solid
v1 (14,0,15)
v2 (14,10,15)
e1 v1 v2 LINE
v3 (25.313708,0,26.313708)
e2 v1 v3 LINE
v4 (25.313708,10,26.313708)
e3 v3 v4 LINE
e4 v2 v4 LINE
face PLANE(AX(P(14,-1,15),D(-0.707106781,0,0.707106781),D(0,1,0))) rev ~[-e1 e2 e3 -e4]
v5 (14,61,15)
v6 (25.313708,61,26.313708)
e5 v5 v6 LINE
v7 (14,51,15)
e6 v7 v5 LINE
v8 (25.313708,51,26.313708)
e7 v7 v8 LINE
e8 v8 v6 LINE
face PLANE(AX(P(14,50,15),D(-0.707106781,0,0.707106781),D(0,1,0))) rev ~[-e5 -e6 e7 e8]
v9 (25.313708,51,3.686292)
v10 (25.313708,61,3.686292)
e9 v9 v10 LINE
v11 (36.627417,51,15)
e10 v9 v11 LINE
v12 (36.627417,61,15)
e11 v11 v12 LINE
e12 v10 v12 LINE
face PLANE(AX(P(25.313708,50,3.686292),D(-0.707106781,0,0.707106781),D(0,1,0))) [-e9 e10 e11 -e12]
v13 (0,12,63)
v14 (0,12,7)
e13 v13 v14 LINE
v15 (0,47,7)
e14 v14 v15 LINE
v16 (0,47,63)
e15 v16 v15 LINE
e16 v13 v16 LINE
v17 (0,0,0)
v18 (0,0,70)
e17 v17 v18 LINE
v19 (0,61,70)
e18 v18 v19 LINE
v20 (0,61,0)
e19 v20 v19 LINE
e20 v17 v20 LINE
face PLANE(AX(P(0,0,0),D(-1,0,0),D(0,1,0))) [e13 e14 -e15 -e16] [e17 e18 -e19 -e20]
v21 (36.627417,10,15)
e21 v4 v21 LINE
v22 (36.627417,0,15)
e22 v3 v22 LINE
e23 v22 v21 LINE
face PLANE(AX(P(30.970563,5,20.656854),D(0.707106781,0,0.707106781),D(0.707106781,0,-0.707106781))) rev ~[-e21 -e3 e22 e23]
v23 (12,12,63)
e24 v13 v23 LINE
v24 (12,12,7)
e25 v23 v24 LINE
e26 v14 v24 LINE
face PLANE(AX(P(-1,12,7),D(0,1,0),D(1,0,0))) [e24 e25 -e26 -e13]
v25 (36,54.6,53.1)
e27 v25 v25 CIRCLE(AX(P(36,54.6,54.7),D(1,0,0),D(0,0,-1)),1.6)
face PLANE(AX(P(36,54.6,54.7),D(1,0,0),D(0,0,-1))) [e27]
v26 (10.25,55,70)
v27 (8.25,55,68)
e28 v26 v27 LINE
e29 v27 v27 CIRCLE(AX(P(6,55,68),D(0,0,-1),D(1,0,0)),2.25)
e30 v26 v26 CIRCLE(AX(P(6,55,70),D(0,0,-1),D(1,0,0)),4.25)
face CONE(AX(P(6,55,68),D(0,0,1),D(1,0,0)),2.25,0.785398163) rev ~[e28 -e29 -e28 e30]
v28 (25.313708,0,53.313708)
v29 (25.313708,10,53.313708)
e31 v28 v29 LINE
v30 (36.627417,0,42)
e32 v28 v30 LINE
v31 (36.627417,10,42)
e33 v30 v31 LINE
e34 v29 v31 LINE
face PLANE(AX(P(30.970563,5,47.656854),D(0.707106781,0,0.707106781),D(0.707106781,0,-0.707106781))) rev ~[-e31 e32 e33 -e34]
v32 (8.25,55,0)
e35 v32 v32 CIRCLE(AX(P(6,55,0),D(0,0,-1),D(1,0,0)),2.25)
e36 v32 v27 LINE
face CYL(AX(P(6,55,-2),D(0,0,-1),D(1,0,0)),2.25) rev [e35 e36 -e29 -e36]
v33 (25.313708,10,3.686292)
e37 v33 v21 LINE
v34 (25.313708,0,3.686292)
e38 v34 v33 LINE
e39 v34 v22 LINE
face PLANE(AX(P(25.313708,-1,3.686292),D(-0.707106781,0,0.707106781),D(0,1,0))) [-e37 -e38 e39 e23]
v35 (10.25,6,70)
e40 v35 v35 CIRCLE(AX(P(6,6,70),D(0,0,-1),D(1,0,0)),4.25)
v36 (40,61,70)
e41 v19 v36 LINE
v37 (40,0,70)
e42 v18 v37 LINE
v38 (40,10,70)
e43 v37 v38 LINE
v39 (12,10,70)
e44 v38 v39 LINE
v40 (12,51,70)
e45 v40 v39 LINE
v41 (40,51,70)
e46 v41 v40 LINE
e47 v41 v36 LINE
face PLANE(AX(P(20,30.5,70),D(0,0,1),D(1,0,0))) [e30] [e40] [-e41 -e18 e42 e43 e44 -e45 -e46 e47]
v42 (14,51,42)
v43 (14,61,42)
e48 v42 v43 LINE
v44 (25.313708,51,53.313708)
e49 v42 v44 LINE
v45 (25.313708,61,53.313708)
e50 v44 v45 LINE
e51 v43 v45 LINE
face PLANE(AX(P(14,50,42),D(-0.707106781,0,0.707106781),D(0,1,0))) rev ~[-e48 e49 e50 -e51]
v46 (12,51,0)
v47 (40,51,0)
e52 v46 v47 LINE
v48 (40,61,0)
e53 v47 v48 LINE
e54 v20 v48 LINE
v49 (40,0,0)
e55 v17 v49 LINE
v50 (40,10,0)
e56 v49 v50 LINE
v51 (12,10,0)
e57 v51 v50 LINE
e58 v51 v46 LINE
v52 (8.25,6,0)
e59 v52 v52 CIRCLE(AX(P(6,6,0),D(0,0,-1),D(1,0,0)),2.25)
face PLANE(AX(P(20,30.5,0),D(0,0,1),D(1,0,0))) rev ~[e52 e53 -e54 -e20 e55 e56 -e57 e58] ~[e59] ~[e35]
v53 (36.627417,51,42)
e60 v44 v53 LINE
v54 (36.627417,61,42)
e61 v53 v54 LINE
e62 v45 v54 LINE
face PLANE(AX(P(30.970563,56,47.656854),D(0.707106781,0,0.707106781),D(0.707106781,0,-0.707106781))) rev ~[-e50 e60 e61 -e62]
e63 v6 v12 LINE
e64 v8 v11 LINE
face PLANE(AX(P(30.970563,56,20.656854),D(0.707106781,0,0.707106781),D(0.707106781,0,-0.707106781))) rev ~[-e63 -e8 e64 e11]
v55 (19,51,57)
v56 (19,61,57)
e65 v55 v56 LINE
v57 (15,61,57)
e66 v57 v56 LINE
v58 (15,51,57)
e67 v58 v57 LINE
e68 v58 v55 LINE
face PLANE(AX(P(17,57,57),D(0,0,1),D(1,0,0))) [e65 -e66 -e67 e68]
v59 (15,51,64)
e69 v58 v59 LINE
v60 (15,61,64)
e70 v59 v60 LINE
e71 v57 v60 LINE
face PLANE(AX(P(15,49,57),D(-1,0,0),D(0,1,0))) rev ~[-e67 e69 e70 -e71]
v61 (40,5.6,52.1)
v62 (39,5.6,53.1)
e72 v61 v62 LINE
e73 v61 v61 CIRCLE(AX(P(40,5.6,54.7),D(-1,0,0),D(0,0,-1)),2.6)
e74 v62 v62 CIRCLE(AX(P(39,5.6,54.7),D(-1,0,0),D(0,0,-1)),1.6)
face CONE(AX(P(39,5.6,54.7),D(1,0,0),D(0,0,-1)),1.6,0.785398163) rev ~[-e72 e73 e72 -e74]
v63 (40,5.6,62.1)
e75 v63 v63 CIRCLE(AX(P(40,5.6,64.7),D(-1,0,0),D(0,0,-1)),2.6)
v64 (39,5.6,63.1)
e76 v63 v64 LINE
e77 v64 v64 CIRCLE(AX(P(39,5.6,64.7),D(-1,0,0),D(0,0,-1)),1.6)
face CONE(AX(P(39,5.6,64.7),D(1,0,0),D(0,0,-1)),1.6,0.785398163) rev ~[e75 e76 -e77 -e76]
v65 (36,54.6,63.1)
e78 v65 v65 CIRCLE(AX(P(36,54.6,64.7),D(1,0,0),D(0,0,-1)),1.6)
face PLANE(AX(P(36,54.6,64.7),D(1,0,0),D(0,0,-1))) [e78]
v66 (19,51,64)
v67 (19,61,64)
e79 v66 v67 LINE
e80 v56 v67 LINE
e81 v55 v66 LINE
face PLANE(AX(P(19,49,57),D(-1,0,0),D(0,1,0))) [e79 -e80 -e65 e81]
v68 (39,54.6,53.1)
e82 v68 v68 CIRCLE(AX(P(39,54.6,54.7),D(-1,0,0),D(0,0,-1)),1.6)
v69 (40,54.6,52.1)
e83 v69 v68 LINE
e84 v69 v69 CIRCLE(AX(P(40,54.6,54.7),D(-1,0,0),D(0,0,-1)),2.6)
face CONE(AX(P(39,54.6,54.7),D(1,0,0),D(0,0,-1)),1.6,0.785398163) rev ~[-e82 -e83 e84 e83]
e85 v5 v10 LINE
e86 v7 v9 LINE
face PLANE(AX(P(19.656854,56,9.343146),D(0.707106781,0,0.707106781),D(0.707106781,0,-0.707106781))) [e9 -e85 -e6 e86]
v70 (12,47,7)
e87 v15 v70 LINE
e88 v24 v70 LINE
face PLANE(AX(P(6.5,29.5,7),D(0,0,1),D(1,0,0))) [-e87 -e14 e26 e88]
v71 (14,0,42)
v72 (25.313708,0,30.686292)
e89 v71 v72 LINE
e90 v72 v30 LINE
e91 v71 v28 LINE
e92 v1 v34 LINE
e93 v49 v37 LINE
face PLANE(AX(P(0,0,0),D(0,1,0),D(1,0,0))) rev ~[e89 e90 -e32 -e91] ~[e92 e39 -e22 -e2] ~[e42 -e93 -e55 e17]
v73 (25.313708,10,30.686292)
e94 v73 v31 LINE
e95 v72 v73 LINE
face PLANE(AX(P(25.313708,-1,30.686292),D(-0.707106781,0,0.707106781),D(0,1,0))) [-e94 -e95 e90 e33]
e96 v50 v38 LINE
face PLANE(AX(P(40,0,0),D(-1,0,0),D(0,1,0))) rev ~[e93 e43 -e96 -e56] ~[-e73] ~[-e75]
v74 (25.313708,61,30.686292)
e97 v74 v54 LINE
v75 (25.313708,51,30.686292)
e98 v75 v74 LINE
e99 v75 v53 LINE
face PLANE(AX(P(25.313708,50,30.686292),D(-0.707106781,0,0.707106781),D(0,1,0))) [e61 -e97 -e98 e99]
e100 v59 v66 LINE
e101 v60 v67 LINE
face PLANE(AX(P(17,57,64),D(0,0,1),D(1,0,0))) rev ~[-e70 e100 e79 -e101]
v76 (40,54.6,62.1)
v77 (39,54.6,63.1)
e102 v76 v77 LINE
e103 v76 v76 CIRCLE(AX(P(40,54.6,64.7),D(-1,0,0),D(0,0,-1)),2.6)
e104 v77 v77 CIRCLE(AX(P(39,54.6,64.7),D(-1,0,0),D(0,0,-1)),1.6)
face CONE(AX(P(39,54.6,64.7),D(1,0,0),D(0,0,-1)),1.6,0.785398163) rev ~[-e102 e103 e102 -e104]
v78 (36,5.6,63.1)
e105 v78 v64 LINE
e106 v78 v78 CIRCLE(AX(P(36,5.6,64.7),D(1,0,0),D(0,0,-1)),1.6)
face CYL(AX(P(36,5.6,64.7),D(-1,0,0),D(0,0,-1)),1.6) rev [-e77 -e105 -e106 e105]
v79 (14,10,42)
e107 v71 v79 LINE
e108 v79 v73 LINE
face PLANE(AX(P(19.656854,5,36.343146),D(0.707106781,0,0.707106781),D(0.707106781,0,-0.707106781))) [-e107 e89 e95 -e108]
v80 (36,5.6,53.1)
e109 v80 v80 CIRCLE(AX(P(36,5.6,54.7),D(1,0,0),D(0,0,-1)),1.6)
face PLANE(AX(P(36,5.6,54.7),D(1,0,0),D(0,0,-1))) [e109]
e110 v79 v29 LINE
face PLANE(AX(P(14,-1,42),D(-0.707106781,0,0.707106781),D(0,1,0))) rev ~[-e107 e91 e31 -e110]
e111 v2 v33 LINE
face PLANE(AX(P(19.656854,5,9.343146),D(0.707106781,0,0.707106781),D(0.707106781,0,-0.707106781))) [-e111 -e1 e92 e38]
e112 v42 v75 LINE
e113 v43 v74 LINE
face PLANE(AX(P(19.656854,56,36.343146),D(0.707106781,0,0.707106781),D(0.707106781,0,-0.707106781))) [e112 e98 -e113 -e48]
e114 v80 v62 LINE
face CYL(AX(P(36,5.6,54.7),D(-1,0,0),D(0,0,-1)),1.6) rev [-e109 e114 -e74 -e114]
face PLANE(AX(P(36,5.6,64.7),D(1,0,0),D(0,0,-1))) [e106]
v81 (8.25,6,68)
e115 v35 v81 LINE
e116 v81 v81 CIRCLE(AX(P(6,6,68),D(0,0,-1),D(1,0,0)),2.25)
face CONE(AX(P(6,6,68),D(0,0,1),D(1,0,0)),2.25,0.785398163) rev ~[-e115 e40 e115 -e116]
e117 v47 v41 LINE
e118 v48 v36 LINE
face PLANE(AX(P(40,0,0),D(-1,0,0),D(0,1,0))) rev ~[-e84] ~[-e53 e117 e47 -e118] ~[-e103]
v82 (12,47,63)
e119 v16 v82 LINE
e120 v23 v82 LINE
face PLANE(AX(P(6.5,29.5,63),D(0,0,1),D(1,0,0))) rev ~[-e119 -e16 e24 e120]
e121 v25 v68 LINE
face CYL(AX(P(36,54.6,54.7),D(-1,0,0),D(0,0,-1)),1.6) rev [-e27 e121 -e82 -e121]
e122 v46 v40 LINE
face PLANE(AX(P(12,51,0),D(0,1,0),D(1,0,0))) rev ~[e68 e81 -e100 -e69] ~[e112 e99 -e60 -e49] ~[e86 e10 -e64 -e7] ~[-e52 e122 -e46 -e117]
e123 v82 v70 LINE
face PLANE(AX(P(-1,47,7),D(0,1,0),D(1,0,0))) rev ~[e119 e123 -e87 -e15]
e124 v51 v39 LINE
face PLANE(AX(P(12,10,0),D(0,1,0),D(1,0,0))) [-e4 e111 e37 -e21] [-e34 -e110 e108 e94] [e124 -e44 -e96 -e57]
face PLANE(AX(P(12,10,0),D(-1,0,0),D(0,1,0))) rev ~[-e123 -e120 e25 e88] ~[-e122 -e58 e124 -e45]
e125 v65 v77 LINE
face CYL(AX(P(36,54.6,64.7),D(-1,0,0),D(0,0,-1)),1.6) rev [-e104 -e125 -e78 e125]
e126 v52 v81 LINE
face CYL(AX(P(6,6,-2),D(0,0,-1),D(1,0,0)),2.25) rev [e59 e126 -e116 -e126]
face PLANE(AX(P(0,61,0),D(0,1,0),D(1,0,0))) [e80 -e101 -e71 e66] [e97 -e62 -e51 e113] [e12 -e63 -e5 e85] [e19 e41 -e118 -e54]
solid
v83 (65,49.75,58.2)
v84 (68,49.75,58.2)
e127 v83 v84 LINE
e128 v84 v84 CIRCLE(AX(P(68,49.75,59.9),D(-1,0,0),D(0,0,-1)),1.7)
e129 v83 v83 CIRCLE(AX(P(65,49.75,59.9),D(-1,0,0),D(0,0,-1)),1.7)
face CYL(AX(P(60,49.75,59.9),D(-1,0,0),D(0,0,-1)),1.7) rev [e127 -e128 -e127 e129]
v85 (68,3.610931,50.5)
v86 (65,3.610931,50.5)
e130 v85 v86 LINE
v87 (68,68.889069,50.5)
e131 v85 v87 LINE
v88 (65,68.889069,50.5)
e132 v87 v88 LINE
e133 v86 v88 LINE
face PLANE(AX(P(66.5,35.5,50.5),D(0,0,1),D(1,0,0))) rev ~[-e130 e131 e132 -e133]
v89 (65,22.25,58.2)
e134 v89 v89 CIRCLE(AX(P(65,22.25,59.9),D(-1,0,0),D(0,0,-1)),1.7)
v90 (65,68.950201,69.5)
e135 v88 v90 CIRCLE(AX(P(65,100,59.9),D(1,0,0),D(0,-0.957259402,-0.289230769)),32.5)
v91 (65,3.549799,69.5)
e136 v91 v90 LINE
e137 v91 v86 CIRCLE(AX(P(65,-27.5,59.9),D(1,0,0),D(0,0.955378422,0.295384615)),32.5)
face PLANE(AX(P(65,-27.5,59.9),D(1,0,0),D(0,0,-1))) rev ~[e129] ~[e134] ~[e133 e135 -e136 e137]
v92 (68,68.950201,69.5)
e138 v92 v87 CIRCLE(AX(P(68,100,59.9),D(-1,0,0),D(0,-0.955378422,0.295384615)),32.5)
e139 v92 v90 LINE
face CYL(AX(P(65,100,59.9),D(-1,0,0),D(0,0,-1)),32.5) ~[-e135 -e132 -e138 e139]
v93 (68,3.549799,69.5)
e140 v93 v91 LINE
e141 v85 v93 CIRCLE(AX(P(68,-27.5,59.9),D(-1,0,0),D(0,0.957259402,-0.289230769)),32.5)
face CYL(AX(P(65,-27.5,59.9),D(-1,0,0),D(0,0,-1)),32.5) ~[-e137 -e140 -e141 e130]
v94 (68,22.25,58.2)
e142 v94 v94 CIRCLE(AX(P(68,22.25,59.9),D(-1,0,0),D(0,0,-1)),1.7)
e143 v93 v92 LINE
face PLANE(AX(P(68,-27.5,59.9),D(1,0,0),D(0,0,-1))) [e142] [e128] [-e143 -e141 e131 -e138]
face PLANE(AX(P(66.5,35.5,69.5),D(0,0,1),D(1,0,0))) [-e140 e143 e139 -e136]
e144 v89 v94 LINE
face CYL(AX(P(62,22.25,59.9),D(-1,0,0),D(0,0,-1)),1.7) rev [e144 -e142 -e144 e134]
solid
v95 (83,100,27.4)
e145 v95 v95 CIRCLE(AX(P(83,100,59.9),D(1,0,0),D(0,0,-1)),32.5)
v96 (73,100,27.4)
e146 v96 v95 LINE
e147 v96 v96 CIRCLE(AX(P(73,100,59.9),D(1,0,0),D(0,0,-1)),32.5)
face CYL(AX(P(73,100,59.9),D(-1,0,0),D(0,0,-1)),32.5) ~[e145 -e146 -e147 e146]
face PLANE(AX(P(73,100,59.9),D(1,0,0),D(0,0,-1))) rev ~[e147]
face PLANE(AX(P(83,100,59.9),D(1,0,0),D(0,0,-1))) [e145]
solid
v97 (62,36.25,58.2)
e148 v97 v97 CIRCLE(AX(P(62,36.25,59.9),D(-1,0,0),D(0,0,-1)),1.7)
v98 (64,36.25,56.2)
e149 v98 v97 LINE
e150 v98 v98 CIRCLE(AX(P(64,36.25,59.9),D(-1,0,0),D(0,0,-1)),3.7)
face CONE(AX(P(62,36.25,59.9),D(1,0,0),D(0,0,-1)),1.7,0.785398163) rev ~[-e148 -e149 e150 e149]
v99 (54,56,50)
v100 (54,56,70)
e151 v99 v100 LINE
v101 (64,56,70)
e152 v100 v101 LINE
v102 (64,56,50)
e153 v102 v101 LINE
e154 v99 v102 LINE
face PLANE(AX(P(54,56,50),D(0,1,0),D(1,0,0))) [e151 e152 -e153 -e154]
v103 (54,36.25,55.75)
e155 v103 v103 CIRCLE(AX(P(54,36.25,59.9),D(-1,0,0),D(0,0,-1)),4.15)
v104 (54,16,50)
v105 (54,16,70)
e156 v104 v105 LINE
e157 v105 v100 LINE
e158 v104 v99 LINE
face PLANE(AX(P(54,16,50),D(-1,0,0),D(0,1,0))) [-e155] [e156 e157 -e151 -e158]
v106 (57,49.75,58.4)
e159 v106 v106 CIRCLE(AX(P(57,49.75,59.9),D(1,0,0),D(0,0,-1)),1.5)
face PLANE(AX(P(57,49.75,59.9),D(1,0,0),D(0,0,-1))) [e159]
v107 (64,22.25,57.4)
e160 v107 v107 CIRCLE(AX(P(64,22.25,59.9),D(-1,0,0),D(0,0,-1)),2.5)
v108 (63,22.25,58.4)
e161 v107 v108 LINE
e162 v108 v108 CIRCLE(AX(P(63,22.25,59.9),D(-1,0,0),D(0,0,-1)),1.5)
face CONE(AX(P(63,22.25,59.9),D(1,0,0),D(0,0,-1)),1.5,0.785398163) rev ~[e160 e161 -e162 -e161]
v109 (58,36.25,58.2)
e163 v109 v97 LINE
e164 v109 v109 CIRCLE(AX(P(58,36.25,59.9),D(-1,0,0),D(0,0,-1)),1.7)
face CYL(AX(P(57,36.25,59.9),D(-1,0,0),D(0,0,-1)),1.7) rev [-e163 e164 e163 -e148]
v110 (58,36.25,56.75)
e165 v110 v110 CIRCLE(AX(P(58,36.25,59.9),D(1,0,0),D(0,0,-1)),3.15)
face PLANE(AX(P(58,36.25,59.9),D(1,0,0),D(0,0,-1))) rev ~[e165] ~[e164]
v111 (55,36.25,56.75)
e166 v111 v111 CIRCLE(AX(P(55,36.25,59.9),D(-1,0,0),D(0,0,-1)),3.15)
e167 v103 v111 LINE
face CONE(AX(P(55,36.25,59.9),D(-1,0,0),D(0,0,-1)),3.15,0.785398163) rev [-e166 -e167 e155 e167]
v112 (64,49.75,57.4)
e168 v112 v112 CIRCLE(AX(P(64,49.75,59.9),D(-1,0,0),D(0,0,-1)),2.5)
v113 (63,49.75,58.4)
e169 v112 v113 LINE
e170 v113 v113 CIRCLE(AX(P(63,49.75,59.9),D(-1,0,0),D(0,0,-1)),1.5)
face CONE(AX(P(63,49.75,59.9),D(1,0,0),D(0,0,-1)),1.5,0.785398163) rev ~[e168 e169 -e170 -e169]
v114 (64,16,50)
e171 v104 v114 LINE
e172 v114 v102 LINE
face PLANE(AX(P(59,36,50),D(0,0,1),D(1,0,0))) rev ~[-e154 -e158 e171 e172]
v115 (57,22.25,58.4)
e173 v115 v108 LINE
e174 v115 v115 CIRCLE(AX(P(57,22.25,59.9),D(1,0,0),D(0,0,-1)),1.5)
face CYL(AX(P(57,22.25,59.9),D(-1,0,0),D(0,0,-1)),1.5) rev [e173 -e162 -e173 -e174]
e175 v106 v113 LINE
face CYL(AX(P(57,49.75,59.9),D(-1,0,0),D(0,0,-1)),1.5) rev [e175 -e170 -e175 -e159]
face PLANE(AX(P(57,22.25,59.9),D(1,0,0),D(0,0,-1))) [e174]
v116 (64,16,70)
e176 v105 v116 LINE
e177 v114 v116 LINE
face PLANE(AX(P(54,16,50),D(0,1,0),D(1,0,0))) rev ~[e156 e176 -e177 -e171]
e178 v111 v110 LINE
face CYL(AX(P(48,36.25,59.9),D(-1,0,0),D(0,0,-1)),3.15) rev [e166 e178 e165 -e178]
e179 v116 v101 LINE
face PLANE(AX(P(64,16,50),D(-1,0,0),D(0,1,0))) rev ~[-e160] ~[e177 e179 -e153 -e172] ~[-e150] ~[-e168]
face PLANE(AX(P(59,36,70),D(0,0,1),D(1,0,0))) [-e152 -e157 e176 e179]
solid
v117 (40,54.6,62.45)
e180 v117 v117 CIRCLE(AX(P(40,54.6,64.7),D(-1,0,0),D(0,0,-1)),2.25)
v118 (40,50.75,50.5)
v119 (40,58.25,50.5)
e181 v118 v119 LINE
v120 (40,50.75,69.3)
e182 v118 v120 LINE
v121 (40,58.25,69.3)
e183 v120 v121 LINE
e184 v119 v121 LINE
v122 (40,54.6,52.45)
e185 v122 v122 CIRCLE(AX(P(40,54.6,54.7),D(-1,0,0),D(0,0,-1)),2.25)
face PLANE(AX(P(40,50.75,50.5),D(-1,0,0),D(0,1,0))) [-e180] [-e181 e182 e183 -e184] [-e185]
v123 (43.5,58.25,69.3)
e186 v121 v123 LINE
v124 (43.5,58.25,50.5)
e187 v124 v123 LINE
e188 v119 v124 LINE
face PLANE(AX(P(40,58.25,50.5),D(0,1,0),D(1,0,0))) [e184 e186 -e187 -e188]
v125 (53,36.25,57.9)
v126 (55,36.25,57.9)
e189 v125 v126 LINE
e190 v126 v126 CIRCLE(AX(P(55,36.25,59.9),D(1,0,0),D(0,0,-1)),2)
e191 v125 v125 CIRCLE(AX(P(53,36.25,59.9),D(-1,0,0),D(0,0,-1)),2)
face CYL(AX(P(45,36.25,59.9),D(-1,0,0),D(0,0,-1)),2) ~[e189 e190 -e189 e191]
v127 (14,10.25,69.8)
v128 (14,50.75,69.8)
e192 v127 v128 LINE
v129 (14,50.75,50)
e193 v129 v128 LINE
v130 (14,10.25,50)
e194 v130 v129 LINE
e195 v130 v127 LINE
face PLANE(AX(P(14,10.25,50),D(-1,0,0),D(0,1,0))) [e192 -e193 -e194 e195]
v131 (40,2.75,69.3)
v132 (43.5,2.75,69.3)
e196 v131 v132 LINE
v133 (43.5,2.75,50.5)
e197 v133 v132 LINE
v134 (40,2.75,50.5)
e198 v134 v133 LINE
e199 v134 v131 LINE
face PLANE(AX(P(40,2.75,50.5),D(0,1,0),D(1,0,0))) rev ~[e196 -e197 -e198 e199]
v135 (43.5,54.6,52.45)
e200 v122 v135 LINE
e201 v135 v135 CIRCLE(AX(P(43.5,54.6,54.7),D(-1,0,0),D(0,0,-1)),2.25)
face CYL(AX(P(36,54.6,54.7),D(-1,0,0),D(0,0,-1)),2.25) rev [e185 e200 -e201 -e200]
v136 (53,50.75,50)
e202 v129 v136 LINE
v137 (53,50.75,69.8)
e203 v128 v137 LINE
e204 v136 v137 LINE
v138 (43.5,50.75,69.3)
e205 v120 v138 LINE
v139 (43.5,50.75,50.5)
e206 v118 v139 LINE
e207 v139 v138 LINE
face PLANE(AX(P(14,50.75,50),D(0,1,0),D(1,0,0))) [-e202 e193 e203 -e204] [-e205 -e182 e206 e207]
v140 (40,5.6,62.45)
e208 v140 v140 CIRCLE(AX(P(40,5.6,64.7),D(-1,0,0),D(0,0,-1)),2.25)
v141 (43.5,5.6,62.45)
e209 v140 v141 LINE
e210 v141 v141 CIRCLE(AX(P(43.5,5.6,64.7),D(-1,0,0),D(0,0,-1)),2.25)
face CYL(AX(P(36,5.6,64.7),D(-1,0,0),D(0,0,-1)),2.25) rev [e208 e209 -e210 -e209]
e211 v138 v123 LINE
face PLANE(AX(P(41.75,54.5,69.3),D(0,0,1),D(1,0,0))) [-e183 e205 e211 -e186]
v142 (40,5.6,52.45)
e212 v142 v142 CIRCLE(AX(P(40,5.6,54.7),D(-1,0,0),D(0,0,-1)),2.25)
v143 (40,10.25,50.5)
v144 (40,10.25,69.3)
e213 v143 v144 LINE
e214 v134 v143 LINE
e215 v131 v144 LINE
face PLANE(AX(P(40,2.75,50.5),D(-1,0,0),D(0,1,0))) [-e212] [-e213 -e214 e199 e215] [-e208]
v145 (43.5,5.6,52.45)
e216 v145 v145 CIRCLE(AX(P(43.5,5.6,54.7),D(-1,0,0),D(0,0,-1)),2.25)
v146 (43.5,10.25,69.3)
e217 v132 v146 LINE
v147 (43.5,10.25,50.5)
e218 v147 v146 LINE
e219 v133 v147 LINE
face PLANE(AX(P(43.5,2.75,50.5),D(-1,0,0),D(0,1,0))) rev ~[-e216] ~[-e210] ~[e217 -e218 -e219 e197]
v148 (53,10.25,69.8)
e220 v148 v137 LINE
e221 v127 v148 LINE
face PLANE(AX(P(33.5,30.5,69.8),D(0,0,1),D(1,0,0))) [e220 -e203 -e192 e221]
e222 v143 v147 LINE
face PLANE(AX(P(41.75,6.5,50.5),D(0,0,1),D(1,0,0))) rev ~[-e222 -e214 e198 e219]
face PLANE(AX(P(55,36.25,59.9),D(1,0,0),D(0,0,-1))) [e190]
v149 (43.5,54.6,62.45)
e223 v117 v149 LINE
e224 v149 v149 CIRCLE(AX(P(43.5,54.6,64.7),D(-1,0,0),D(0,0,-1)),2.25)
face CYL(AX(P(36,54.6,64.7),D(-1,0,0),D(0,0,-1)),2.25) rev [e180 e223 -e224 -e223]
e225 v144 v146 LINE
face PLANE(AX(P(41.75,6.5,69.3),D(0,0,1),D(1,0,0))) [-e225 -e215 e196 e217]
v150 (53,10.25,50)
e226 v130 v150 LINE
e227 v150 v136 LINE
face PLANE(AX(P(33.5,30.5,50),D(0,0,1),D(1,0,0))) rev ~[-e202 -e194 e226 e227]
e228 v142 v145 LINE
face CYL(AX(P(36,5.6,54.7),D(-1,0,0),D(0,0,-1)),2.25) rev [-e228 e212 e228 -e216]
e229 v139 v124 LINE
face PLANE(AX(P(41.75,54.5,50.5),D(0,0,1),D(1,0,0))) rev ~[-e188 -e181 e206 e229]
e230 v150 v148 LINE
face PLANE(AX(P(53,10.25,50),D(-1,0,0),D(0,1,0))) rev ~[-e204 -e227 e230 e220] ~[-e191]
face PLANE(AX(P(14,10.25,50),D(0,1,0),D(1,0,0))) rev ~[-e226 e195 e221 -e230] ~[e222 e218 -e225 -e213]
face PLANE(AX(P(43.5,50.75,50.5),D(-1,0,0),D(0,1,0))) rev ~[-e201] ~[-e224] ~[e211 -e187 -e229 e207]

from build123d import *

# Parameters (mm, degrees)
CYLINDER_R             = 2.25
CYLINDER_DEPTH         = 10
CYLINDER001_R          = 2.25
CYLINDER001_DEPTH      = 10
CYLINDER003_R          = 2.25
CYLINDER003_DEPTH      = 10
CYLINDER002_R          = 2.25
CYLINDER002_DEPTH      = 10
BOX003_W               = 3.5
BOX003_H               = 7.5
BOX003_DEPTH           = 18.8
BOX004_W               = 3.5
BOX004_H               = 7.5
BOX004_DEPTH           = 18.8
BOX002_W               = 39
BOX002_H               = 40.5
BOX002_DEPTH           = 19.8
CYLINDER004_R          = 2
CYLINDER004_DEPTH      = 10
CYLINDER015_R          = 32.5
CYLINDER015_DEPTH      = 10
CYLINDER018_R          = 1.7
CYLINDER018_DEPTH      = 10
CYLINDER019_R          = 1.7
CYLINDER019_DEPTH      = 10
CYLINDER016_R          = 32.5
CYLINDER016_DEPTH      = 3
CYLINDER017_R          = 32.5
CYLINDER017_DEPTH      = 3
BOX007_W               = 3
BOX007_H               = 159
BOX007_DEPTH           = 19
CYLINDER014_R          = 1.5
CYLINDER014_DEPTH      = 10
CYLINDER013_R          = 1.5
CYLINDER013_DEPTH      = 10
CYLINDER012_R          = 1.7
CYLINDER012_DEPTH      = 10
CYLINDER011_R          = 3.15
CYLINDER011_DEPTH      = 10
BOX006_W               = 10
BOX006_H               = 40
BOX006_DEPTH           = 20
CHAMFER001_SIZE        = 2
CHAMFER002_SIZE        = 1
CHAMFER003_SIZE        = 1
BOX012_W               = 16
BOX012_H               = 12
BOX012_DEPTH           = 16
BOX012_PLACEMENT_ANGLE = 45
BOX011_W               = 16
BOX011_H               = 12
BOX011_DEPTH           = 16
BOX011_PLACEMENT_ANGLE = 45
BOX010_W               = 16
BOX010_H               = 12
BOX010_DEPTH           = 16
BOX010_PLACEMENT_ANGLE = 45
BOX009_W               = 16
BOX009_H               = 12
BOX009_DEPTH           = 16
BOX009_PLACEMENT_ANGLE = 45
BOX008_W               = 15
BOX008_H               = 35
BOX008_DEPTH           = 56
CYLINDER010_R          = 2.25
CYLINDER010_DEPTH      = 74
CYLINDER009_R          = 2.25
CYLINDER009_DEPTH      = 74
BOX005_W               = 4
BOX005_H               = 16
BOX005_DEPTH           = 7
CYLINDER006_R          = 1.6
CYLINDER006_DEPTH      = 10
CYLINDER007_R          = 1.6
CYLINDER007_DEPTH      = 10
CYLINDER008_R          = 1.6
CYLINDER008_DEPTH      = 10
CYLINDER005_R          = 1.6
CYLINDER005_DEPTH      = 10
BOX001_W               = 28
BOX001_H               = 41
BOX001_DEPTH           = 75
BOX_W                  = 40
BOX_H                  = 61
BOX_DEPTH              = 70
CHAMFER_SIZE           = 2
CHAMFER004_SIZE        = 1


with BuildPart() as cylinder:
    # Cylinder → Cylinder (new body)
    with BuildSketch(Plane(origin=(36, 5.6, 64.7), x_dir=(0, 0, -1), z_dir=(1, 0, 0))):
        Circle(CYLINDER_R)
    extrude(amount=CYLINDER_DEPTH)


with BuildPart() as fusion:
    # Cylinder001 → Cylinder001 (new body)
    with BuildSketch(Plane(origin=(36, 5.6, 54.7), x_dir=(0, 0, -1), z_dir=(1, 0, 0))):
        Circle(CYLINDER001_R)
    extrude(amount=CYLINDER001_DEPTH)

    # Fusion: union Cylinder
    add(cylinder.part)


with BuildPart() as cylinder003:
    # Cylinder003 → Cylinder003 (new body)
    with BuildSketch(Plane(origin=(36, 54.6, 54.7), x_dir=(0, 0, -1), z_dir=(1, 0, 0))):
        Circle(CYLINDER003_R)
    extrude(amount=CYLINDER003_DEPTH)


with BuildPart() as fusion003:
    # Cylinder002 → Cylinder002 (new body)
    with BuildSketch(Plane(origin=(36, 54.6, 64.7), x_dir=(0, 0, -1), z_dir=(1, 0, 0))):
        Circle(CYLINDER002_R)
    extrude(amount=CYLINDER002_DEPTH)

    # Fusion001: union Cylinder003
    add(cylinder003.part)

    # Fusion003: union Fusion
    add(fusion.part)


with BuildPart() as cube003:
    # Box003 → Box003 (new body)
    with BuildSketch(Plane(origin=(40, 2.75, 50.5), x_dir=(1, 0, 0), z_dir=(0, 0, 1))):
        with Locations((1.75, 3.75)):
            Rectangle(BOX003_W, BOX003_H)
    extrude(amount=BOX003_DEPTH)


with BuildPart() as cube004:
    # Box004 → Box004 (new body)
    with BuildSketch(Plane(origin=(40, 50.75, 50.5), x_dir=(1, 0, 0), z_dir=(0, 0, 1))):
        with Locations((1.75, 3.75)):
            Rectangle(BOX004_W, BOX004_H)
    extrude(amount=BOX004_DEPTH)


with BuildPart() as cut001:
    # Box002 → Box002 (new body)
    with BuildSketch(Plane(origin=(14, 10.25, 50), x_dir=(1, 0, 0), z_dir=(0, 0, 1))):
        with Locations((19.5, 20.25)):
            Rectangle(BOX002_W, BOX002_H)
    extrude(amount=BOX002_DEPTH)

    # Fusion002: union Cube003, Cube004
    add(cube003.part)
    add(cube004.part)

    # Cut001: cut Fusion003
    add(fusion003.part, mode=Mode.SUBTRACT)


with BuildPart() as fusion004:
    # Cylinder004 → Cylinder004 (new body)
    with BuildSketch(Plane(origin=(45, 36.25, 59.9), x_dir=(0, 0, -1), z_dir=(1, 0, 0))):
        Circle(CYLINDER004_R)
    extrude(amount=CYLINDER004_DEPTH)

    # Fusion004: union Cut001
    add(cut001.part)


with BuildPart() as cylinder015:
    # Cylinder015 → Cylinder015 (new body)
    with BuildSketch(Plane(origin=(73, 100, 59.9), x_dir=(0, 0, -1), z_dir=(1, 0, 0))):
        Circle(CYLINDER015_R)
    extrude(amount=CYLINDER015_DEPTH)


with BuildPart() as cylinder018:
    # Cylinder018 → Cylinder018 (new body)
    with BuildSketch(Plane(origin=(62, 22.25, 59.9), x_dir=(0, 0, -1), z_dir=(1, 0, 0))):
        Circle(CYLINDER018_R)
    extrude(amount=CYLINDER018_DEPTH)


with BuildPart() as fusion009:
    # Cylinder019 → Cylinder019 (new body)
    with BuildSketch(Plane(origin=(60, 49.75, 59.9), x_dir=(0, 0, -1), z_dir=(1, 0, 0))):
        Circle(CYLINDER019_R)
    extrude(amount=CYLINDER019_DEPTH)

    # Fusion009: union Cylinder018
    add(cylinder018.part)


with BuildPart() as cylinder016:
    # Cylinder016 → Cylinder016 (new body)
    with BuildSketch(Plane(origin=(65, 100, 59.9), x_dir=(0, 0, -1), z_dir=(1, 0, 0))):
        Circle(CYLINDER016_R)
    extrude(amount=CYLINDER016_DEPTH)


with BuildPart() as cylinder017:
    # Cylinder017 → Cylinder017 (new body)
    with BuildSketch(Plane(origin=(65, -27.5, 59.9), x_dir=(0, 0, -1), z_dir=(1, 0, 0))):
        Circle(CYLINDER017_R)
    extrude(amount=CYLINDER017_DEPTH)


with BuildPart() as cut008:
    # Box007 → Box007 (new body)
    with BuildSketch(Plane(origin=(65, -44, 50.5), x_dir=(1, 0, 0), z_dir=(0, 0, 1))):
        with Locations((1.5, 79.5)):
            Rectangle(BOX007_W, BOX007_H)
    extrude(amount=BOX007_DEPTH)

    # Fusion008: union Cylinder016, Cylinder017
    add(cylinder016.part)
    add(cylinder017.part)

    # Cut008: cut Fusion009
    add(fusion009.part, mode=Mode.SUBTRACT)


with BuildPart() as cylinder014:
    # Cylinder014 → Cylinder014 (new body)
    with BuildSketch(Plane(origin=(57, 22.25, 59.9), x_dir=(0, 0, -1), z_dir=(1, 0, 0))):
        Circle(CYLINDER014_R)
    extrude(amount=CYLINDER014_DEPTH)


with BuildPart() as fusion007:
    # Cylinder013 → Cylinder013 (new body)
    with BuildSketch(Plane(origin=(57, 49.75, 59.9), x_dir=(0, 0, -1), z_dir=(1, 0, 0))):
        Circle(CYLINDER013_R)
    extrude(amount=CYLINDER013_DEPTH)

    # Fusion007: union Cylinder014
    add(cylinder014.part)


with BuildPart() as cylinder012:
    # Cylinder012 → Cylinder012 (new body)
    with BuildSketch(Plane(origin=(57, 36.25, 59.9), x_dir=(0, 0, -1), z_dir=(1, 0, 0))):
        Circle(CYLINDER012_R)
    extrude(amount=CYLINDER012_DEPTH)


with BuildPart() as cylinder011:
    # Cylinder011 → Cylinder011 (new body)
    with BuildSketch(Plane(origin=(48, 36.25, 59.9), x_dir=(0, 0, -1), z_dir=(1, 0, 0))):
        Circle(CYLINDER011_R)
    extrude(amount=CYLINDER011_DEPTH)


with BuildPart() as chamfer003:
    # Box006 → Box006 (new body)
    with BuildSketch(Plane(origin=(54, 16, 50), x_dir=(1, 0, 0), z_dir=(0, 0, 1))):
        with Locations((5, 20)):
            Rectangle(BOX006_W, BOX006_H)
    extrude(amount=BOX006_DEPTH)

    # Cut005: cut Cylinder011
    add(cylinder011.part, mode=Mode.SUBTRACT)

    # Cut006: cut Cylinder012
    add(cylinder012.part, mode=Mode.SUBTRACT)

    # Chamfer001
    chamfer001_edges = [chamfer003.edges().sort_by_distance(p)[0] for p in [
        (64, 36.25, 61.6),
    ]]
    chamfer(chamfer001_edges, length=CHAMFER001_SIZE)

    # Cut007: cut Fusion007
    add(fusion007.part, mode=Mode.SUBTRACT)

    # Chamfer002
    chamfer002_edges = [chamfer003.edges().sort_by_distance(p)[0] for p in [
        (64, 49.75, 61.4),
        (64, 22.25, 61.4),
    ]]
    chamfer(chamfer002_edges, length=CHAMFER002_SIZE)

    # Chamfer003
    chamfer003_edges = [chamfer003.edges().sort_by_distance(p)[0] for p in [
        (54, 36.25, 63.05),
    ]]
    chamfer(chamfer003_edges, length=CHAMFER003_SIZE)


with BuildPart() as cube012:
    # Box012 → Box012 (new body)
    with BuildSketch(Plane.XY):
        with Locations((8, 6)):
            Rectangle(BOX012_W, BOX012_H)
    extrude(amount=BOX012_DEPTH)


with BuildPart() as cube012_1:
    # Box012 placement: moved
    add(cube012.part.moved(Location((14, 50, 42))).rotate(Axis((14, 50, 42), (0, 1, 0)), BOX012_PLACEMENT_ANGLE))


with BuildPart() as fusion011:
    # Box011 → Box011 (new body)
    with BuildSketch(Plane.XY):
        with Locations((8, 6)):
            Rectangle(BOX011_W, BOX011_H)
    extrude(amount=BOX011_DEPTH)


with BuildPart() as fusion011_1:
    # Box011 placement: moved
    add(fusion011.part.moved(Location((14, 50, 15))).rotate(Axis((14, 50, 15), (0, 1, 0)), BOX011_PLACEMENT_ANGLE))

    # Fusion011: union Cube012
    add(cube012_1.part)


with BuildPart() as cube010:
    # Box010 → Box010 (new body)
    with BuildSketch(Plane.XY):
        with Locations((8, 6)):
            Rectangle(BOX010_W, BOX010_H)
    extrude(amount=BOX010_DEPTH)


with BuildPart() as cube010_1:
    # Box010 placement: moved
    add(cube010.part.moved(Location((14, -1, 42))).rotate(Axis((14, -1, 42), (0, 1, 0)), BOX010_PLACEMENT_ANGLE))


with BuildPart() as fusion010:
    # Box009 → Box009 (new body)
    with BuildSketch(Plane.XY):
        with Locations((8, 6)):
            Rectangle(BOX009_W, BOX009_H)
    extrude(amount=BOX009_DEPTH)


with BuildPart() as fusion010_1:
    # Box009 placement: moved
    add(fusion010.part.moved(Location((14, -1, 15))).rotate(Axis((14, -1, 15), (0, 1, 0)), BOX009_PLACEMENT_ANGLE))

    # Fusion010: union Cube010
    add(cube010_1.part)


with BuildPart() as cube008:
    # Box008 → Box008 (new body)
    with BuildSketch(Plane(origin=(-1, 12, 7), x_dir=(1, 0, 0), z_dir=(0, 0, 1))):
        with Locations((7.5, 17.5)):
            Rectangle(BOX008_W, BOX008_H)
    extrude(amount=BOX008_DEPTH)


with BuildPart() as cylinder010:
    # Cylinder010 → Cylinder010 (new body)
    with BuildSketch(Plane(origin=(6, 55, -2), x_dir=(1, 0, 0), z_dir=(0, 0, 1))):
        Circle(CYLINDER010_R)
    extrude(amount=CYLINDER010_DEPTH)


with BuildPart() as fusion006:
    # Cylinder009 → Cylinder009 (new body)
    with BuildSketch(Plane(origin=(6, 6, -2), x_dir=(1, 0, 0), z_dir=(0, 0, 1))):
        Circle(CYLINDER009_R)
    extrude(amount=CYLINDER009_DEPTH)

    # Fusion006: union Cylinder010
    add(cylinder010.part)


with BuildPart() as cube005:
    # Box005 → Box005 (new body)
    with BuildSketch(Plane(origin=(15, 49, 57), x_dir=(1, 0, 0), z_dir=(0, 0, 1))):
        with Locations((2, 8)):
            Rectangle(BOX005_W, BOX005_H)
    extrude(amount=BOX005_DEPTH)


with BuildPart() as cylinder006:
    # Cylinder006 → Cylinder006 (new body)
    with BuildSketch(Plane(origin=(36, 54.6, 54.7), x_dir=(0, 0, -1), z_dir=(1, 0, 0))):
        Circle(CYLINDER006_R)
    extrude(amount=CYLINDER006_DEPTH)


with BuildPart() as cylinder007:
    # Cylinder007 → Cylinder007 (new body)
    with BuildSketch(Plane(origin=(36, 5.6, 64.7), x_dir=(0, 0, -1), z_dir=(1, 0, 0))):
        Circle(CYLINDER007_R)
    extrude(amount=CYLINDER007_DEPTH)


with BuildPart() as cylinder008:
    # Cylinder008 → Cylinder008 (new body)
    with BuildSketch(Plane(origin=(36, 5.6, 54.7), x_dir=(0, 0, -1), z_dir=(1, 0, 0))):
        Circle(CYLINDER008_R)
    extrude(amount=CYLINDER008_DEPTH)


with BuildPart() as fusion005:
    # Cylinder005 → Cylinder005 (new body)
    with BuildSketch(Plane(origin=(36, 54.6, 64.7), x_dir=(0, 0, -1), z_dir=(1, 0, 0))):
        Circle(CYLINDER005_R)
    extrude(amount=CYLINDER005_DEPTH)

    # Fusion005: union Cylinder006, Cylinder007, Cylinder008
    add(cylinder006.part)
    add(cylinder007.part)
    add(cylinder008.part)


with BuildPart() as cube001:
    # Box001 → Box001 (new body)
    with BuildSketch(Plane(origin=(12, 10, 0), x_dir=(1, 0, 0), z_dir=(0, 0, 1))):
        with Locations((14, 20.5)):
            Rectangle(BOX001_W, BOX001_H)
    extrude(amount=BOX001_DEPTH)


with BuildPart() as cut011:
    # Box → Box (new body)
    with BuildSketch(Plane.XY):
        with Locations((20, 30.5)):
            Rectangle(BOX_W, BOX_H)
    extrude(amount=BOX_DEPTH)

    # Cut: cut Cube001
    add(cube001.part, mode=Mode.SUBTRACT)

    # Cut002: cut Fusion005
    add(fusion005.part, mode=Mode.SUBTRACT)

    # Cut003: cut Cube005
    add(cube005.part, mode=Mode.SUBTRACT)

    # Cut004: cut Fusion006
    add(fusion006.part, mode=Mode.SUBTRACT)

    # Chamfer
    chamfer_edges = [cut011.edges().sort_by_distance(p)[0] for p in [
        (3.75, 6, 70),
        (3.75, 55, 70),
    ]]
    chamfer(chamfer_edges, length=CHAMFER_SIZE)

    # Chamfer004
    chamfer004_edges = [cut011.edges().sort_by_distance(p)[0] for p in [
        (40, 54.6, 56.3),
        (40, 54.6, 66.3),
        (40, 5.6, 56.3),
        (40, 5.6, 66.3),
    ]]
    chamfer(chamfer004_edges, length=CHAMFER004_SIZE)

    # Cut009: cut Cube008
    add(cube008.part, mode=Mode.SUBTRACT)

    # Cut010: cut Fusion010
    add(fusion010_1.part, mode=Mode.SUBTRACT)

    # Cut011: cut Fusion011
    add(fusion011_1.part, mode=Mode.SUBTRACT)


solid = Compound([fusion004.part, cylinder015.part, cut008.part, chamfer003.part, cut011.part])
